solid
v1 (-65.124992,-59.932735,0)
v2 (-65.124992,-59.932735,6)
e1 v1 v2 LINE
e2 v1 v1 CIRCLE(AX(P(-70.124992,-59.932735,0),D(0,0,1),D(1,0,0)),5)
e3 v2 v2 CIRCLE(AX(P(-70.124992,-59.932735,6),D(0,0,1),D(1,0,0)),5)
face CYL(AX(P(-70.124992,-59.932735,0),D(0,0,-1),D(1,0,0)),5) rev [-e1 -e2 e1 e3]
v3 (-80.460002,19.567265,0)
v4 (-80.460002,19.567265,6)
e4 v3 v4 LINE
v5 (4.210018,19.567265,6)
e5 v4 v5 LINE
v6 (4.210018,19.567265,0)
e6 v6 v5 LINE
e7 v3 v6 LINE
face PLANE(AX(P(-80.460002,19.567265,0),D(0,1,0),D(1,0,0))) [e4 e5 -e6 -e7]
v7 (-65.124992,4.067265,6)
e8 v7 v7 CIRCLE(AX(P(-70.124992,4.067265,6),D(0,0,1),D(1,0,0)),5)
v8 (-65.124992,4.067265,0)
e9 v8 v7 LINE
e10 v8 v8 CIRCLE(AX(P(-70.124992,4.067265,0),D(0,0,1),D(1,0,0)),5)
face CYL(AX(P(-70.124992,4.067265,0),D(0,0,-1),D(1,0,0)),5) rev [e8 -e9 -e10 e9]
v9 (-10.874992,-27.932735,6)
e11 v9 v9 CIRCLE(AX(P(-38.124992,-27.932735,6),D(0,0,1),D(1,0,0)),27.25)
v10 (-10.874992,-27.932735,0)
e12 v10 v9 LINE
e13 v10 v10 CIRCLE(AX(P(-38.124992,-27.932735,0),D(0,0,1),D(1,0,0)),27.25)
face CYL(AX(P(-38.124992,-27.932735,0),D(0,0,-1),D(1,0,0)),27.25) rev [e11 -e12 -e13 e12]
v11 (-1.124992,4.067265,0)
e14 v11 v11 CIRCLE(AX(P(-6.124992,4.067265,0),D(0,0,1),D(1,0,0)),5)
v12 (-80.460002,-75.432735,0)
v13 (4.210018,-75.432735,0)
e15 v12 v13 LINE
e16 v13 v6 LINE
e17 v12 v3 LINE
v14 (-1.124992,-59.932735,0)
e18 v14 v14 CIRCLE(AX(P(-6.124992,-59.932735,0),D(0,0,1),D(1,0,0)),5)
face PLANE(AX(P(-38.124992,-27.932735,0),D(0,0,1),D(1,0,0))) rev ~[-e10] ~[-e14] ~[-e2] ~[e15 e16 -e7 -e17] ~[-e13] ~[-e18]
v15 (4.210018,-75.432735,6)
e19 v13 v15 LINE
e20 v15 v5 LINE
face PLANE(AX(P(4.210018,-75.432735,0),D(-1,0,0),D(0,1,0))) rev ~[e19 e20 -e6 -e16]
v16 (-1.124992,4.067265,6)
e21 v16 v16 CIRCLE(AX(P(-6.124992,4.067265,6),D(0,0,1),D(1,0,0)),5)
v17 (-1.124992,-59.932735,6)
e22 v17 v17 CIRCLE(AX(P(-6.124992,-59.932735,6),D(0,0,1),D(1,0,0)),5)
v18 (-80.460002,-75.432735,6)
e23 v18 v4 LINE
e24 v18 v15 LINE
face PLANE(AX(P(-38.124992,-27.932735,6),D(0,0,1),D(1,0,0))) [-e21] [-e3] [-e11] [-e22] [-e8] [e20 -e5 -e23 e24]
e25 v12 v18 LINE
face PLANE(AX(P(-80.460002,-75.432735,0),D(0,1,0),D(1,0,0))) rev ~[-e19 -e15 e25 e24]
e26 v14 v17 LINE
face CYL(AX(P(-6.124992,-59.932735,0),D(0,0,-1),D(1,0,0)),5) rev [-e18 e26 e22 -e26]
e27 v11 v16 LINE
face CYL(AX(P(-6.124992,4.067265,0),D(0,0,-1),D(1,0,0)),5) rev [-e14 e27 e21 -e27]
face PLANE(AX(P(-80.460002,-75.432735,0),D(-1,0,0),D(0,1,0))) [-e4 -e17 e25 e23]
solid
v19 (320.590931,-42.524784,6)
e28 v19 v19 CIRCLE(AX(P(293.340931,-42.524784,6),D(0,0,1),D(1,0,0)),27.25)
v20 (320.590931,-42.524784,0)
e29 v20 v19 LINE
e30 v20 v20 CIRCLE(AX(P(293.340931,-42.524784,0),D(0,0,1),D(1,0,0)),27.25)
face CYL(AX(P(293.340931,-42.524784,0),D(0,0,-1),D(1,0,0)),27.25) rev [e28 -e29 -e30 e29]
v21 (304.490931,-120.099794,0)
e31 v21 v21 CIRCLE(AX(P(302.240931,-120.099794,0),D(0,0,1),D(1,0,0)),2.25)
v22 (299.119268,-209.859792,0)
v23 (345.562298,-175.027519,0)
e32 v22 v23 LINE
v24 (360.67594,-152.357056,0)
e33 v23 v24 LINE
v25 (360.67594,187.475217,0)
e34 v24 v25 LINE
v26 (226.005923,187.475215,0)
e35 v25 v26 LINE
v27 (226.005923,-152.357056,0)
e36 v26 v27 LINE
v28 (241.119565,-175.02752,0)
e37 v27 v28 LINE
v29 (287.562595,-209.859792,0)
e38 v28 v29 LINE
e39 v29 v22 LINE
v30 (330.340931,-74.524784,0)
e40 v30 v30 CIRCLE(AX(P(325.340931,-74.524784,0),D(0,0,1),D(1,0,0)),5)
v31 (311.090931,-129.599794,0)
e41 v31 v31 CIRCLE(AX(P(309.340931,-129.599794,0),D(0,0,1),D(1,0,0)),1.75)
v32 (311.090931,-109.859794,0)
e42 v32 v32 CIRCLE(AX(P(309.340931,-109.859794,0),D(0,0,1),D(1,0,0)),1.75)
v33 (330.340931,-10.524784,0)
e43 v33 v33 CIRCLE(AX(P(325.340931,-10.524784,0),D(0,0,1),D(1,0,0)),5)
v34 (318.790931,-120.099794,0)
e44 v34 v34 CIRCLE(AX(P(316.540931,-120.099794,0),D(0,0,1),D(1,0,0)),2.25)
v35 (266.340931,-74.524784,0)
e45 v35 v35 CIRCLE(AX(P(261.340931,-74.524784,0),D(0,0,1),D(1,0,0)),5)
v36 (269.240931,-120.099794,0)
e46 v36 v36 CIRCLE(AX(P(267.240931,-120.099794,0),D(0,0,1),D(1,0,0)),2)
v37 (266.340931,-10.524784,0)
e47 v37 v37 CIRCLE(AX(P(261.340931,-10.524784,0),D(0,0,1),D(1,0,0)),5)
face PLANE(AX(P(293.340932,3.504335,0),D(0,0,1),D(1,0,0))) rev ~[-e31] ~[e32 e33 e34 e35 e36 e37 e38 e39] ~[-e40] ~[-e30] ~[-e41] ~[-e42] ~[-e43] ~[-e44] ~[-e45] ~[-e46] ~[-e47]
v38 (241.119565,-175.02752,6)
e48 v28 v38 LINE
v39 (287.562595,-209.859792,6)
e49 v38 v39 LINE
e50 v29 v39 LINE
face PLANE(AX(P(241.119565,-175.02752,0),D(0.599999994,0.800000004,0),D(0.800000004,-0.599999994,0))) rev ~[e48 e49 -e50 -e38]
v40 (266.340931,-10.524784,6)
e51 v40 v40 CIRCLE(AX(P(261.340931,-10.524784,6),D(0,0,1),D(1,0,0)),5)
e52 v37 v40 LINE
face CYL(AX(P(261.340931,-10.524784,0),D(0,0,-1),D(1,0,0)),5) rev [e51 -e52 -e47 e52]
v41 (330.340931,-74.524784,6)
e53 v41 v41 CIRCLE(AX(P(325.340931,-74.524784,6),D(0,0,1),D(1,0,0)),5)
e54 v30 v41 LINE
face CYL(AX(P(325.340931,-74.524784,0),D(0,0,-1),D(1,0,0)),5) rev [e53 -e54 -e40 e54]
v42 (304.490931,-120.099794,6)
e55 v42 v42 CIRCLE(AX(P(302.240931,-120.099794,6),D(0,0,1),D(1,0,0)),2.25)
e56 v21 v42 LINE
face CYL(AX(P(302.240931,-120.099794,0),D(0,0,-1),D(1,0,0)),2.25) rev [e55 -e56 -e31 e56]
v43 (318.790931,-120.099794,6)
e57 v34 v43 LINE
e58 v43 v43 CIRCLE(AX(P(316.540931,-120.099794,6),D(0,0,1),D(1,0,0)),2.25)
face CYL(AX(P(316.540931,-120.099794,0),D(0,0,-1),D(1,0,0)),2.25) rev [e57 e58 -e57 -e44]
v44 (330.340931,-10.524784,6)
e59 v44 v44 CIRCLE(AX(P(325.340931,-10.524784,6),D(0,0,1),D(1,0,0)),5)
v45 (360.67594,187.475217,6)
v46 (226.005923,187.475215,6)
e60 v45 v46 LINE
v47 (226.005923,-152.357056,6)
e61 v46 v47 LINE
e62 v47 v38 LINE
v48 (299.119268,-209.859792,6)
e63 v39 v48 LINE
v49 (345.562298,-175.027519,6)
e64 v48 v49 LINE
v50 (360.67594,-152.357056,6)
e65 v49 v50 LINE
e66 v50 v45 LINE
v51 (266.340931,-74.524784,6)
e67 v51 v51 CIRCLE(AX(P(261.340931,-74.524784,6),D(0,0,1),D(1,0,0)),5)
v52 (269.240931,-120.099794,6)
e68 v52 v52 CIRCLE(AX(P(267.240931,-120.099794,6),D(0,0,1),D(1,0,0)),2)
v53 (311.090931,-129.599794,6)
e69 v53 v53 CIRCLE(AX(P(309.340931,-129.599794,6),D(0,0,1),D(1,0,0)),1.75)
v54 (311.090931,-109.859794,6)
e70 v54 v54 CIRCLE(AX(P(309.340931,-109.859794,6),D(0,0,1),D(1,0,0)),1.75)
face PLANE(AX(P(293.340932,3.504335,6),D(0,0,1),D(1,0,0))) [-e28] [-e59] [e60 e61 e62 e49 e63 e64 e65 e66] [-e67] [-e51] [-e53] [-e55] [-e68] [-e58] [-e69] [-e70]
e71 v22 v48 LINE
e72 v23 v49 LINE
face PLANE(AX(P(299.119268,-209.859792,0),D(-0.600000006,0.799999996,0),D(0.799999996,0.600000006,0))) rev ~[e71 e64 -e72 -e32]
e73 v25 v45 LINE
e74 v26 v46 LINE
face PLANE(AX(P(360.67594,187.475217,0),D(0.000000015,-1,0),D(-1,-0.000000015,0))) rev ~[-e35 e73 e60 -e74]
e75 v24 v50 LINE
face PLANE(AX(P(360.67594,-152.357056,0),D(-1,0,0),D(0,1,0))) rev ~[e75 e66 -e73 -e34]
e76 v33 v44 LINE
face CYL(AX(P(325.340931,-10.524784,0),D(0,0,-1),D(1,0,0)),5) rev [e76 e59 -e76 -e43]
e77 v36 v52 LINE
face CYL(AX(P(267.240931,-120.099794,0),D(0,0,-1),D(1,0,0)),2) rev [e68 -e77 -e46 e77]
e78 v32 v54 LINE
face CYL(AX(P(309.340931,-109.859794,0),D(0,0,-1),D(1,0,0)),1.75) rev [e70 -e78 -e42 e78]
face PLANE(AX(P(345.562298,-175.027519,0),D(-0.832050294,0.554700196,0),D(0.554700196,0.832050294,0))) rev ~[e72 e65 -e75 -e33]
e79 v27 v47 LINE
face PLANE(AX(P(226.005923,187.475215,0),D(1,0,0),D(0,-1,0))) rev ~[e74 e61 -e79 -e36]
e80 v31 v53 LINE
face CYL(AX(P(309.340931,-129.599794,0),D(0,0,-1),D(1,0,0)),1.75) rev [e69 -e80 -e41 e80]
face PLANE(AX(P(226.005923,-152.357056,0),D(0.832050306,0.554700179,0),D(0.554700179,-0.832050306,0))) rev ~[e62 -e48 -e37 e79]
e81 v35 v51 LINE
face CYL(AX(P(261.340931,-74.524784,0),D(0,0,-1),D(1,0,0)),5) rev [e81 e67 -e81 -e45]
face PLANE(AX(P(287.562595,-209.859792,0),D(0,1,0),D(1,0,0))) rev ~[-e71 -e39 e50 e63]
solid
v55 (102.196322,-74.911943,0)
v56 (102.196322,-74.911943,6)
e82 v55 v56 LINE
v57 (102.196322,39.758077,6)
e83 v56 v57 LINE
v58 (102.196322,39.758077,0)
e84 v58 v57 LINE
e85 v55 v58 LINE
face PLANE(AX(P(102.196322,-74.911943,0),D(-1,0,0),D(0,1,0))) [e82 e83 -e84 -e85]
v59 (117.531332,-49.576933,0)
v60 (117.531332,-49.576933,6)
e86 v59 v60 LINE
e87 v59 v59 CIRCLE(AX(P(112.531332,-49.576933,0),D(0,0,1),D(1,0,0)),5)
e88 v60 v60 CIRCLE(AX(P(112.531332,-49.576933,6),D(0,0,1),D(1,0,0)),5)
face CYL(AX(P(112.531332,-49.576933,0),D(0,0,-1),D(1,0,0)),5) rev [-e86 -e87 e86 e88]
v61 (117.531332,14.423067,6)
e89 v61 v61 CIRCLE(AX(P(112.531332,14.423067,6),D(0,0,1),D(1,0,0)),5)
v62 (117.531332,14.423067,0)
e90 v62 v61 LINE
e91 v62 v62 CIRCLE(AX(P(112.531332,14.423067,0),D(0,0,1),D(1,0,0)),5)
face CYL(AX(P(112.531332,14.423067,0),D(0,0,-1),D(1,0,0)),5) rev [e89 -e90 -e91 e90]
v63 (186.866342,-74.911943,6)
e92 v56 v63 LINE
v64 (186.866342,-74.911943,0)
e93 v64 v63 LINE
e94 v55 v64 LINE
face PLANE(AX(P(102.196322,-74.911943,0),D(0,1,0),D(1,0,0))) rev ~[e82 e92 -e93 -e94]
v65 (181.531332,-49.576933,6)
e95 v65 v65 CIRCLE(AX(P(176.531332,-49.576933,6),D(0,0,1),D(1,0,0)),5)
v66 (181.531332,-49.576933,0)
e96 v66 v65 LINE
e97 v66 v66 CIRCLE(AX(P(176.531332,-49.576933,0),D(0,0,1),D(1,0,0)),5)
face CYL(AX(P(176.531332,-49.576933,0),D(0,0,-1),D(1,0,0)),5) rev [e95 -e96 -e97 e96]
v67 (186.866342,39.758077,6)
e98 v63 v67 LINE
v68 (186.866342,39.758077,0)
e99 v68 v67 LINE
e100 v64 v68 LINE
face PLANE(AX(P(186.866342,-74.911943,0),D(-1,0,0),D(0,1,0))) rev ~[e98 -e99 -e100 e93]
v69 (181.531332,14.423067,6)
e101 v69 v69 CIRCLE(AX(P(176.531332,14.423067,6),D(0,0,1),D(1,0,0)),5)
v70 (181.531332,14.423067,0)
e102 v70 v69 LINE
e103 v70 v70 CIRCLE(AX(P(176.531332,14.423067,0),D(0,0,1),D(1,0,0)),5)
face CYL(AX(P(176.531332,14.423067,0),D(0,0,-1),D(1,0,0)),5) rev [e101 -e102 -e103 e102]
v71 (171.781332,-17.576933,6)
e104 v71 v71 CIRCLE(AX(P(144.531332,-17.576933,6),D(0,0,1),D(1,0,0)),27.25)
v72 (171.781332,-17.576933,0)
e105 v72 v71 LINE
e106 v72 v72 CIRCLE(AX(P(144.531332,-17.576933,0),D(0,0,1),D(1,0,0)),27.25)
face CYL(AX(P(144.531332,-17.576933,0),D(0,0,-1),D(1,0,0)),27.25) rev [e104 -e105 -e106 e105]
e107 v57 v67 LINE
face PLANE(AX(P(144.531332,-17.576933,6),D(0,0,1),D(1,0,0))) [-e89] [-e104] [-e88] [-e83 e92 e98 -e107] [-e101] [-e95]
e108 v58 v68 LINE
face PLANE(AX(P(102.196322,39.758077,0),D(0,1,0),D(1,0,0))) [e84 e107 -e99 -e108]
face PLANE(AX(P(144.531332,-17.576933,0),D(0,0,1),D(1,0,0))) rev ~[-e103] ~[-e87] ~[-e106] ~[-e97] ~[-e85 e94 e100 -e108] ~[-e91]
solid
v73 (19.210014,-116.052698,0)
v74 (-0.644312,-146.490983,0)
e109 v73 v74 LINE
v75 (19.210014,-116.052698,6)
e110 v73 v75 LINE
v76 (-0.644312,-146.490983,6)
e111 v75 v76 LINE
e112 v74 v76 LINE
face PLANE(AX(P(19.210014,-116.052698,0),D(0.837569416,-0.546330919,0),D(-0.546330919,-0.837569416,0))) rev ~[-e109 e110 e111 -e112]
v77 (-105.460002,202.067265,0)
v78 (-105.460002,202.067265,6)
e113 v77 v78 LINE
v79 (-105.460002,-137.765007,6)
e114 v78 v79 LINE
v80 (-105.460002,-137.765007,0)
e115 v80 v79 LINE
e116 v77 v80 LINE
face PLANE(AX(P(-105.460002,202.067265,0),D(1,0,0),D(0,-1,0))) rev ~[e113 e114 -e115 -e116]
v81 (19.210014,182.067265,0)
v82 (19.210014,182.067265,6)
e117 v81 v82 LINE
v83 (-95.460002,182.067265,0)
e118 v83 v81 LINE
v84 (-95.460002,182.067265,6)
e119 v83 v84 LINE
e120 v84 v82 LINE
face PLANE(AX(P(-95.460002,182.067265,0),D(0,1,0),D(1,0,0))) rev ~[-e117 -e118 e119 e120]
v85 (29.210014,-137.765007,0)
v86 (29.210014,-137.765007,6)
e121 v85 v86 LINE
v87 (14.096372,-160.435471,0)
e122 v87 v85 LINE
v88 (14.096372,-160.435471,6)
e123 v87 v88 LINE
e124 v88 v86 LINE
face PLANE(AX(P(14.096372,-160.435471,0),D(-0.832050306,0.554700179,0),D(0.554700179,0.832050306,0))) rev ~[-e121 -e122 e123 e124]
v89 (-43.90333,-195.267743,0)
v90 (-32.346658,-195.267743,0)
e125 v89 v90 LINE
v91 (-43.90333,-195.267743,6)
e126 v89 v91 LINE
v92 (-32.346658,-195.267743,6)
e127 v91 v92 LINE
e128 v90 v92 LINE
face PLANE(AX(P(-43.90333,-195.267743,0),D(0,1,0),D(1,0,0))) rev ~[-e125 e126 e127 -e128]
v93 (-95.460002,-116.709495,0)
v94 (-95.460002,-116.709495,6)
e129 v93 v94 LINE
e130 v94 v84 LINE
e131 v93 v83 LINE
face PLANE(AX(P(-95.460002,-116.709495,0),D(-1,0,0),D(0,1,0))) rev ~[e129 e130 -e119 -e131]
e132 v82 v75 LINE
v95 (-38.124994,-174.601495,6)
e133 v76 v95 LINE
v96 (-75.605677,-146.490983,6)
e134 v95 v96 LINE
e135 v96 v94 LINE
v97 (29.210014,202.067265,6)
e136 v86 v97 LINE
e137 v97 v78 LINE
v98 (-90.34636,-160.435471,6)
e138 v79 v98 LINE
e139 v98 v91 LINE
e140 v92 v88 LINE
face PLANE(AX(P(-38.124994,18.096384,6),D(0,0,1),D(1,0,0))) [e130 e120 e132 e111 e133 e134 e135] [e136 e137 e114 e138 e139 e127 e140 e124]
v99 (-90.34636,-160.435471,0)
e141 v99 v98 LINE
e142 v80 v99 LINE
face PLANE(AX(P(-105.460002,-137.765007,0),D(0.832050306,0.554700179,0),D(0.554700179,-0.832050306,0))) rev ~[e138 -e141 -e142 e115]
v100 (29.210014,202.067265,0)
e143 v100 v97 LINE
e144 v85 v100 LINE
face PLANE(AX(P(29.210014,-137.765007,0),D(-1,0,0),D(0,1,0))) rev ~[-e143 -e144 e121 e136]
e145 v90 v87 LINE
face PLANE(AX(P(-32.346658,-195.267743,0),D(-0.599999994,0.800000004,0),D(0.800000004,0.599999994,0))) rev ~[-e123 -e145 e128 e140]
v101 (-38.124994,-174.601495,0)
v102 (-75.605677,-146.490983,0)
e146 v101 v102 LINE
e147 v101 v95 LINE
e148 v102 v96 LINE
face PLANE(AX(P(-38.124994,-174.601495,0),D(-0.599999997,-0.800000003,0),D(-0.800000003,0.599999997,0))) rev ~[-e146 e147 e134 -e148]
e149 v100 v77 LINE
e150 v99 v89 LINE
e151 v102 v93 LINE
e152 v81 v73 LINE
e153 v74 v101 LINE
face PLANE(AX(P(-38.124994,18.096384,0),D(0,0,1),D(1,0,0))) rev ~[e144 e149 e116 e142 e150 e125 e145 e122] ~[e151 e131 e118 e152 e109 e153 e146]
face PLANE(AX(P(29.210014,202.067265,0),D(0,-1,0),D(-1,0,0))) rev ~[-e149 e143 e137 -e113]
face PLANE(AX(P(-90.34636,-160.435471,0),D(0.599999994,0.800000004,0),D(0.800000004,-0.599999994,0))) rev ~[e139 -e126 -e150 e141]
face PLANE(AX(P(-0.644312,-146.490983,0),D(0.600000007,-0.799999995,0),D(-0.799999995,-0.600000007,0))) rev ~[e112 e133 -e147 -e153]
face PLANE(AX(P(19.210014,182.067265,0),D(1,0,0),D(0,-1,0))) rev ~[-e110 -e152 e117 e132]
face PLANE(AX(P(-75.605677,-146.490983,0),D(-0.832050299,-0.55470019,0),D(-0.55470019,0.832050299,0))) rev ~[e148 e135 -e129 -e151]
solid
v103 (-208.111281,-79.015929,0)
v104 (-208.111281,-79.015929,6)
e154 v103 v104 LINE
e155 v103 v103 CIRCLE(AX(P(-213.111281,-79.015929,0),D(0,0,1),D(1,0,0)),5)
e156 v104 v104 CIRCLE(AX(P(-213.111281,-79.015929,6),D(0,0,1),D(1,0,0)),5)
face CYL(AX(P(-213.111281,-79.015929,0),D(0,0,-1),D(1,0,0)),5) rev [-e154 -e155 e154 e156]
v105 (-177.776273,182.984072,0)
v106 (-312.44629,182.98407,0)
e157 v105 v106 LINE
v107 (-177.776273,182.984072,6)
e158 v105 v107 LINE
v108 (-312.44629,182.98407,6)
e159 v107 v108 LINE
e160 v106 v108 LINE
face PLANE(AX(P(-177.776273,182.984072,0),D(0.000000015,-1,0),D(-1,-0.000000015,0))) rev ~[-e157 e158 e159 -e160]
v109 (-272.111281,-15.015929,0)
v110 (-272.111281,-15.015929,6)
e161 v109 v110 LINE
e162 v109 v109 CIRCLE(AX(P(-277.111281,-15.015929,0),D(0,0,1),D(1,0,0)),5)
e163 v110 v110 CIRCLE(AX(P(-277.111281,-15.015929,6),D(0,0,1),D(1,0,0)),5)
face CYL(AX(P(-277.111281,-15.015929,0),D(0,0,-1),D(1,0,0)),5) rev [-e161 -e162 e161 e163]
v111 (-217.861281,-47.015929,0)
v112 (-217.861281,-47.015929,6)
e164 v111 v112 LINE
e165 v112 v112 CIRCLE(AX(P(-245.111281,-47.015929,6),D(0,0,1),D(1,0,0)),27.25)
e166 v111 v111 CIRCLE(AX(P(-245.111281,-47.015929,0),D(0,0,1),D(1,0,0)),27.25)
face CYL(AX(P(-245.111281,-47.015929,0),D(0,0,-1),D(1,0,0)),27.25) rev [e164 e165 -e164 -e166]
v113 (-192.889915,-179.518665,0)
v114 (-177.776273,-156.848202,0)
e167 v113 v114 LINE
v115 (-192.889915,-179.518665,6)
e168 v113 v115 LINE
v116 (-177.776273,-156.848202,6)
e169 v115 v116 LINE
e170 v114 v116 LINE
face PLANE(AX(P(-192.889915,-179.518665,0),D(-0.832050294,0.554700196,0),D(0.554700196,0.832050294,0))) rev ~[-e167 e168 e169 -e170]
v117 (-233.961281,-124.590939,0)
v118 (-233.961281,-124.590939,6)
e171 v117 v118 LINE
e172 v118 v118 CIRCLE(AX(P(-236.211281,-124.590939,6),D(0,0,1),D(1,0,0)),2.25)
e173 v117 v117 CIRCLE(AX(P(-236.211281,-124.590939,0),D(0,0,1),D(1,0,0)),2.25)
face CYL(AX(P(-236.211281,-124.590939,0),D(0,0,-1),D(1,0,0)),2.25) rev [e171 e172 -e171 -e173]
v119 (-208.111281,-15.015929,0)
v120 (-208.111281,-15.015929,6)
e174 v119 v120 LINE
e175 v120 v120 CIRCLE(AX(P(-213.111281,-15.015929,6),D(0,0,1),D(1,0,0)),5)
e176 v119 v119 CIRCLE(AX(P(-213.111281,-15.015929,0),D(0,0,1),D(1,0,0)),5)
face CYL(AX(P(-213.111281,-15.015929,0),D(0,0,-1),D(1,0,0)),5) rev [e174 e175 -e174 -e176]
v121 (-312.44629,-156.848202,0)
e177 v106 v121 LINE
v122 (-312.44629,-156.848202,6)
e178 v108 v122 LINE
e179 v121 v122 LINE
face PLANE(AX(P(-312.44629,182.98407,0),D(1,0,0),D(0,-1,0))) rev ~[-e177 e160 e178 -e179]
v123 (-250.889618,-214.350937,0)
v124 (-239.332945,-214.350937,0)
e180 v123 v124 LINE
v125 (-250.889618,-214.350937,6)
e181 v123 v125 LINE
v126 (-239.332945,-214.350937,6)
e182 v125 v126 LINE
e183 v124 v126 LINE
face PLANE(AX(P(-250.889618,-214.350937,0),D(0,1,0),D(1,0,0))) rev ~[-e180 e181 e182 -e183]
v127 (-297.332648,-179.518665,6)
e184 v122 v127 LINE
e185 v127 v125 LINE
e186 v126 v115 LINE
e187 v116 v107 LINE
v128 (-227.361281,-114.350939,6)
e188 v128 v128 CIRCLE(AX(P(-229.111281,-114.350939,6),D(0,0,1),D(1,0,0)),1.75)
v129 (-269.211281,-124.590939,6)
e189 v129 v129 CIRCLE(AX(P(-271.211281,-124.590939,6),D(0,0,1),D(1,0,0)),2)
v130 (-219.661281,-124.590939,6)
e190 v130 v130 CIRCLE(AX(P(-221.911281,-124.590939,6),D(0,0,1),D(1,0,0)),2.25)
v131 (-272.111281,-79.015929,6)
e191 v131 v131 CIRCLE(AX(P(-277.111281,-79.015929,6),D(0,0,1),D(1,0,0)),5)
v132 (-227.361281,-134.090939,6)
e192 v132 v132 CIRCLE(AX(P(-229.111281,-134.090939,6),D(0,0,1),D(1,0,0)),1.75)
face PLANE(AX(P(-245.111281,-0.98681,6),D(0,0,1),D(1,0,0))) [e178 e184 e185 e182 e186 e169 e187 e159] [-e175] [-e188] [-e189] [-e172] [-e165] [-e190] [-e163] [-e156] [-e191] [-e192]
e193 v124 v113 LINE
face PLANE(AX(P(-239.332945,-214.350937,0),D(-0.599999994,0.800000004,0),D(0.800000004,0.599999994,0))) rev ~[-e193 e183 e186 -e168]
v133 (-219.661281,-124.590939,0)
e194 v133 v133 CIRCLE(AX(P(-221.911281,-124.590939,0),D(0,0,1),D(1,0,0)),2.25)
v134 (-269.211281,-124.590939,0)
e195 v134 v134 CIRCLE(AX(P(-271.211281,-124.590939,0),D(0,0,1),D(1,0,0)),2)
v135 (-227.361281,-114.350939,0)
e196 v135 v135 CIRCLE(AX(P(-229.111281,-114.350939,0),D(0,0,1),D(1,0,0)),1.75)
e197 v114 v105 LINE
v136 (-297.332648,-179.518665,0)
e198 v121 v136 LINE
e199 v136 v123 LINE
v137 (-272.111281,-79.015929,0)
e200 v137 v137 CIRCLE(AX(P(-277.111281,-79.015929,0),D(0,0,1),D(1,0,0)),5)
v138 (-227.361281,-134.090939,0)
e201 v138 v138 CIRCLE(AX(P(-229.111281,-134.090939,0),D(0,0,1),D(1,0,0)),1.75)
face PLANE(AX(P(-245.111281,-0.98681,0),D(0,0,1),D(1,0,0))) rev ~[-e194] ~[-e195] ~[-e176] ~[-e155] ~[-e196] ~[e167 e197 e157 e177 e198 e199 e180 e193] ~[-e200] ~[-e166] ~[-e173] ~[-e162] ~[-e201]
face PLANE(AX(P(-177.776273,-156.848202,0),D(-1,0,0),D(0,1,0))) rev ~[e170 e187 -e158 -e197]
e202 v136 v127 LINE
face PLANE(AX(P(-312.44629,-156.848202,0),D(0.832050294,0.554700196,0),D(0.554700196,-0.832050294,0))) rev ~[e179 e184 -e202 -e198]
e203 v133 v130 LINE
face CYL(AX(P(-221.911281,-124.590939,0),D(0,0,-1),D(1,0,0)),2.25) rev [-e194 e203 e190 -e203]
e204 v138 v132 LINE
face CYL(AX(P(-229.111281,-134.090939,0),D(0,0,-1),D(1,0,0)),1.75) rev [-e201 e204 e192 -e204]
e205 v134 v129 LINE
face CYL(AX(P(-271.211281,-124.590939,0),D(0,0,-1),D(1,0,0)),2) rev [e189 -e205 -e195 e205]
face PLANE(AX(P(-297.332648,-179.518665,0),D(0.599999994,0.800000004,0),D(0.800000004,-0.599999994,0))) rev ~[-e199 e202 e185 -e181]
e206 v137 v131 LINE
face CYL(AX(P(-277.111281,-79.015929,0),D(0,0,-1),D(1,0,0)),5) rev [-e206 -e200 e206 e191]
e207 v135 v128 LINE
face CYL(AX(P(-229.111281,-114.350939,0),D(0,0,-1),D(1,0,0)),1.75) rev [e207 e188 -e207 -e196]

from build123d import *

# Parameters (mm, degrees)
F0_R     = 2
F0_R_2   = 5
F0_R_3   = 27.25
F0_R_4   = 1.75
F0_R_5   = 2.25
F2_DEPTH = 6
F1_W     = 84.67002
F1_H     = 95
F1_R     = 5
F1_R_2   = 27.25
F3_DEPTH = 6
F4_W     = 84.67002
F4_H     = 114.67002
F4_R     = 5
F4_R_2   = 27.25
F5_DEPTH = 6
F6_R     = 2
F6_R_2   = 5
F6_R_3   = 27.25
F6_R_4   = 1.75
F6_R_5   = 2.25
F7_DEPTH = 6


with BuildPart() as f2:
    # F0 (on Top) + F1 (on Top) → F2 (new body)
    with BuildSketch(Plane.XY):
        Polygon((-177.776273, 182.984072), (-312.44629, 182.98407), (-312.44629, -156.848202), (-297.332648, -179.518665), (-250.889618, -214.350937), (-239.332945, -214.350937), (-192.889915, -179.518665), (-177.776273, -156.848202), align=None)
        with Locations((-271.211281, -124.590939)):
            Circle(F0_R, mode=Mode.SUBTRACT)
        with Locations((-277.111281, -79.015929)):
            Circle(F0_R_2, mode=Mode.SUBTRACT)
        with Locations((-245.111281, -47.015929)):
            Circle(F0_R_3, mode=Mode.SUBTRACT)
        with Locations((-229.111281, -134.090939)):
            Circle(F0_R_4, mode=Mode.SUBTRACT)
        with Locations((-236.211281, -124.590939)):
            Circle(F0_R_5, mode=Mode.SUBTRACT)
        with Locations((-221.911281, -124.590939)):
            Circle(F0_R_5, mode=Mode.SUBTRACT)
        with Locations((-229.111281, -114.350939)):
            Circle(F0_R_4, mode=Mode.SUBTRACT)
        with Locations((-213.111281, -79.015929)):
            Circle(F0_R_2, mode=Mode.SUBTRACT)
        with Locations((-277.111281, -15.015929)):
            Circle(F0_R_2, mode=Mode.SUBTRACT)
        with Locations((-213.111281, -15.015929)):
            Circle(F0_R_2, mode=Mode.SUBTRACT)
    with BuildSketch(Plane.XY):
        Polygon((29.210014, 202.067265), (-105.460002, 202.067265), (-105.460002, -137.765007), (-90.34636, -160.435471), (-43.90333, -195.267743), (-32.346658, -195.267743), (14.096372, -160.435471), (29.210014, -137.765007), align=None)
        Polygon((-95.460002, -116.709495), (-95.460002, 182.067265), (19.210014, 182.067265), (19.210014, -116.052698), (-0.644312, -146.490983), (-38.124994, -174.601495), (-75.605677, -146.490983), align=None, mode=Mode.SUBTRACT)
    extrude(amount=F2_DEPTH)


with BuildPart() as f3:
    # F1 (on Top) → F3 (new body)
    with BuildSketch(Plane.XY):
        with Locations((-38.124992, -27.932735)):
            Rectangle(F1_W, F1_H)
        with Locations((-70.124992, -59.932735)):
            Circle(F1_R, mode=Mode.SUBTRACT)
        with Locations((-6.124992, -59.932735)):
            Circle(F1_R, mode=Mode.SUBTRACT)
        with Locations((-38.124992, -27.932735)):
            Circle(F1_R_2, mode=Mode.SUBTRACT)
        with Locations((-70.124992, 4.067265)):
            Circle(F1_R, mode=Mode.SUBTRACT)
        with Locations((-6.124992, 4.067265)):
            Circle(F1_R, mode=Mode.SUBTRACT)
    extrude(amount=F3_DEPTH)


with BuildPart() as f5:
    # F4 (on Top) → F5 (new body)
    with BuildSketch(Plane.XY):
        with Locations((144.531332, -17.576933)):
            Rectangle(F4_W, F4_H)
        with Locations((112.531332, -49.576933)):
            Circle(F4_R, mode=Mode.SUBTRACT)
        with Locations((176.531332, -49.576933)):
            Circle(F4_R, mode=Mode.SUBTRACT)
        with Locations((144.531332, -17.576933)):
            Circle(F4_R_2, mode=Mode.SUBTRACT)
        with Locations((112.531332, 14.423067)):
            Circle(F4_R, mode=Mode.SUBTRACT)
        with Locations((176.531332, 14.423067)):
            Circle(F4_R, mode=Mode.SUBTRACT)
    extrude(amount=F5_DEPTH)


with BuildPart() as f7:
    # F6 (on Top) → F7 (new body)
    with BuildSketch(Plane.XY):
        Polygon((360.67594, 187.475217), (226.005923, 187.475215), (226.005923, -152.357056), (241.119565, -175.02752), (287.562595, -209.859792), (299.119268, -209.859792), (345.562298, -175.027519), (360.67594, -152.357056), align=None)
        with Locations((267.240931, -120.099794)):
            Circle(F6_R, mode=Mode.SUBTRACT)
        with Locations((261.340931, -74.524784)):
            Circle(F6_R_2, mode=Mode.SUBTRACT)
        with Locations((293.340931, -42.524784)):
            Circle(F6_R_3, mode=Mode.SUBTRACT)
        with Locations((309.340931, -129.599794)):
            Circle(F6_R_4, mode=Mode.SUBTRACT)
        with Locations((302.240931, -120.099794)):
            Circle(F6_R_5, mode=Mode.SUBTRACT)
        with Locations((316.540931, -120.099794)):
            Circle(F6_R_5, mode=Mode.SUBTRACT)
        with Locations((309.340931, -109.859794)):
            Circle(F6_R_4, mode=Mode.SUBTRACT)
        with Locations((325.340931, -74.524784)):
            Circle(F6_R_2, mode=Mode.SUBTRACT)
        with Locations((261.340931, -10.524784)):
            Circle(F6_R_2, mode=Mode.SUBTRACT)
        with Locations((325.340931, -10.524784)):
            Circle(F6_R_2, mode=Mode.SUBTRACT)
    extrude(amount=F7_DEPTH)


solid = Compound([f2.part, f3.part, f5.part, f7.part])
